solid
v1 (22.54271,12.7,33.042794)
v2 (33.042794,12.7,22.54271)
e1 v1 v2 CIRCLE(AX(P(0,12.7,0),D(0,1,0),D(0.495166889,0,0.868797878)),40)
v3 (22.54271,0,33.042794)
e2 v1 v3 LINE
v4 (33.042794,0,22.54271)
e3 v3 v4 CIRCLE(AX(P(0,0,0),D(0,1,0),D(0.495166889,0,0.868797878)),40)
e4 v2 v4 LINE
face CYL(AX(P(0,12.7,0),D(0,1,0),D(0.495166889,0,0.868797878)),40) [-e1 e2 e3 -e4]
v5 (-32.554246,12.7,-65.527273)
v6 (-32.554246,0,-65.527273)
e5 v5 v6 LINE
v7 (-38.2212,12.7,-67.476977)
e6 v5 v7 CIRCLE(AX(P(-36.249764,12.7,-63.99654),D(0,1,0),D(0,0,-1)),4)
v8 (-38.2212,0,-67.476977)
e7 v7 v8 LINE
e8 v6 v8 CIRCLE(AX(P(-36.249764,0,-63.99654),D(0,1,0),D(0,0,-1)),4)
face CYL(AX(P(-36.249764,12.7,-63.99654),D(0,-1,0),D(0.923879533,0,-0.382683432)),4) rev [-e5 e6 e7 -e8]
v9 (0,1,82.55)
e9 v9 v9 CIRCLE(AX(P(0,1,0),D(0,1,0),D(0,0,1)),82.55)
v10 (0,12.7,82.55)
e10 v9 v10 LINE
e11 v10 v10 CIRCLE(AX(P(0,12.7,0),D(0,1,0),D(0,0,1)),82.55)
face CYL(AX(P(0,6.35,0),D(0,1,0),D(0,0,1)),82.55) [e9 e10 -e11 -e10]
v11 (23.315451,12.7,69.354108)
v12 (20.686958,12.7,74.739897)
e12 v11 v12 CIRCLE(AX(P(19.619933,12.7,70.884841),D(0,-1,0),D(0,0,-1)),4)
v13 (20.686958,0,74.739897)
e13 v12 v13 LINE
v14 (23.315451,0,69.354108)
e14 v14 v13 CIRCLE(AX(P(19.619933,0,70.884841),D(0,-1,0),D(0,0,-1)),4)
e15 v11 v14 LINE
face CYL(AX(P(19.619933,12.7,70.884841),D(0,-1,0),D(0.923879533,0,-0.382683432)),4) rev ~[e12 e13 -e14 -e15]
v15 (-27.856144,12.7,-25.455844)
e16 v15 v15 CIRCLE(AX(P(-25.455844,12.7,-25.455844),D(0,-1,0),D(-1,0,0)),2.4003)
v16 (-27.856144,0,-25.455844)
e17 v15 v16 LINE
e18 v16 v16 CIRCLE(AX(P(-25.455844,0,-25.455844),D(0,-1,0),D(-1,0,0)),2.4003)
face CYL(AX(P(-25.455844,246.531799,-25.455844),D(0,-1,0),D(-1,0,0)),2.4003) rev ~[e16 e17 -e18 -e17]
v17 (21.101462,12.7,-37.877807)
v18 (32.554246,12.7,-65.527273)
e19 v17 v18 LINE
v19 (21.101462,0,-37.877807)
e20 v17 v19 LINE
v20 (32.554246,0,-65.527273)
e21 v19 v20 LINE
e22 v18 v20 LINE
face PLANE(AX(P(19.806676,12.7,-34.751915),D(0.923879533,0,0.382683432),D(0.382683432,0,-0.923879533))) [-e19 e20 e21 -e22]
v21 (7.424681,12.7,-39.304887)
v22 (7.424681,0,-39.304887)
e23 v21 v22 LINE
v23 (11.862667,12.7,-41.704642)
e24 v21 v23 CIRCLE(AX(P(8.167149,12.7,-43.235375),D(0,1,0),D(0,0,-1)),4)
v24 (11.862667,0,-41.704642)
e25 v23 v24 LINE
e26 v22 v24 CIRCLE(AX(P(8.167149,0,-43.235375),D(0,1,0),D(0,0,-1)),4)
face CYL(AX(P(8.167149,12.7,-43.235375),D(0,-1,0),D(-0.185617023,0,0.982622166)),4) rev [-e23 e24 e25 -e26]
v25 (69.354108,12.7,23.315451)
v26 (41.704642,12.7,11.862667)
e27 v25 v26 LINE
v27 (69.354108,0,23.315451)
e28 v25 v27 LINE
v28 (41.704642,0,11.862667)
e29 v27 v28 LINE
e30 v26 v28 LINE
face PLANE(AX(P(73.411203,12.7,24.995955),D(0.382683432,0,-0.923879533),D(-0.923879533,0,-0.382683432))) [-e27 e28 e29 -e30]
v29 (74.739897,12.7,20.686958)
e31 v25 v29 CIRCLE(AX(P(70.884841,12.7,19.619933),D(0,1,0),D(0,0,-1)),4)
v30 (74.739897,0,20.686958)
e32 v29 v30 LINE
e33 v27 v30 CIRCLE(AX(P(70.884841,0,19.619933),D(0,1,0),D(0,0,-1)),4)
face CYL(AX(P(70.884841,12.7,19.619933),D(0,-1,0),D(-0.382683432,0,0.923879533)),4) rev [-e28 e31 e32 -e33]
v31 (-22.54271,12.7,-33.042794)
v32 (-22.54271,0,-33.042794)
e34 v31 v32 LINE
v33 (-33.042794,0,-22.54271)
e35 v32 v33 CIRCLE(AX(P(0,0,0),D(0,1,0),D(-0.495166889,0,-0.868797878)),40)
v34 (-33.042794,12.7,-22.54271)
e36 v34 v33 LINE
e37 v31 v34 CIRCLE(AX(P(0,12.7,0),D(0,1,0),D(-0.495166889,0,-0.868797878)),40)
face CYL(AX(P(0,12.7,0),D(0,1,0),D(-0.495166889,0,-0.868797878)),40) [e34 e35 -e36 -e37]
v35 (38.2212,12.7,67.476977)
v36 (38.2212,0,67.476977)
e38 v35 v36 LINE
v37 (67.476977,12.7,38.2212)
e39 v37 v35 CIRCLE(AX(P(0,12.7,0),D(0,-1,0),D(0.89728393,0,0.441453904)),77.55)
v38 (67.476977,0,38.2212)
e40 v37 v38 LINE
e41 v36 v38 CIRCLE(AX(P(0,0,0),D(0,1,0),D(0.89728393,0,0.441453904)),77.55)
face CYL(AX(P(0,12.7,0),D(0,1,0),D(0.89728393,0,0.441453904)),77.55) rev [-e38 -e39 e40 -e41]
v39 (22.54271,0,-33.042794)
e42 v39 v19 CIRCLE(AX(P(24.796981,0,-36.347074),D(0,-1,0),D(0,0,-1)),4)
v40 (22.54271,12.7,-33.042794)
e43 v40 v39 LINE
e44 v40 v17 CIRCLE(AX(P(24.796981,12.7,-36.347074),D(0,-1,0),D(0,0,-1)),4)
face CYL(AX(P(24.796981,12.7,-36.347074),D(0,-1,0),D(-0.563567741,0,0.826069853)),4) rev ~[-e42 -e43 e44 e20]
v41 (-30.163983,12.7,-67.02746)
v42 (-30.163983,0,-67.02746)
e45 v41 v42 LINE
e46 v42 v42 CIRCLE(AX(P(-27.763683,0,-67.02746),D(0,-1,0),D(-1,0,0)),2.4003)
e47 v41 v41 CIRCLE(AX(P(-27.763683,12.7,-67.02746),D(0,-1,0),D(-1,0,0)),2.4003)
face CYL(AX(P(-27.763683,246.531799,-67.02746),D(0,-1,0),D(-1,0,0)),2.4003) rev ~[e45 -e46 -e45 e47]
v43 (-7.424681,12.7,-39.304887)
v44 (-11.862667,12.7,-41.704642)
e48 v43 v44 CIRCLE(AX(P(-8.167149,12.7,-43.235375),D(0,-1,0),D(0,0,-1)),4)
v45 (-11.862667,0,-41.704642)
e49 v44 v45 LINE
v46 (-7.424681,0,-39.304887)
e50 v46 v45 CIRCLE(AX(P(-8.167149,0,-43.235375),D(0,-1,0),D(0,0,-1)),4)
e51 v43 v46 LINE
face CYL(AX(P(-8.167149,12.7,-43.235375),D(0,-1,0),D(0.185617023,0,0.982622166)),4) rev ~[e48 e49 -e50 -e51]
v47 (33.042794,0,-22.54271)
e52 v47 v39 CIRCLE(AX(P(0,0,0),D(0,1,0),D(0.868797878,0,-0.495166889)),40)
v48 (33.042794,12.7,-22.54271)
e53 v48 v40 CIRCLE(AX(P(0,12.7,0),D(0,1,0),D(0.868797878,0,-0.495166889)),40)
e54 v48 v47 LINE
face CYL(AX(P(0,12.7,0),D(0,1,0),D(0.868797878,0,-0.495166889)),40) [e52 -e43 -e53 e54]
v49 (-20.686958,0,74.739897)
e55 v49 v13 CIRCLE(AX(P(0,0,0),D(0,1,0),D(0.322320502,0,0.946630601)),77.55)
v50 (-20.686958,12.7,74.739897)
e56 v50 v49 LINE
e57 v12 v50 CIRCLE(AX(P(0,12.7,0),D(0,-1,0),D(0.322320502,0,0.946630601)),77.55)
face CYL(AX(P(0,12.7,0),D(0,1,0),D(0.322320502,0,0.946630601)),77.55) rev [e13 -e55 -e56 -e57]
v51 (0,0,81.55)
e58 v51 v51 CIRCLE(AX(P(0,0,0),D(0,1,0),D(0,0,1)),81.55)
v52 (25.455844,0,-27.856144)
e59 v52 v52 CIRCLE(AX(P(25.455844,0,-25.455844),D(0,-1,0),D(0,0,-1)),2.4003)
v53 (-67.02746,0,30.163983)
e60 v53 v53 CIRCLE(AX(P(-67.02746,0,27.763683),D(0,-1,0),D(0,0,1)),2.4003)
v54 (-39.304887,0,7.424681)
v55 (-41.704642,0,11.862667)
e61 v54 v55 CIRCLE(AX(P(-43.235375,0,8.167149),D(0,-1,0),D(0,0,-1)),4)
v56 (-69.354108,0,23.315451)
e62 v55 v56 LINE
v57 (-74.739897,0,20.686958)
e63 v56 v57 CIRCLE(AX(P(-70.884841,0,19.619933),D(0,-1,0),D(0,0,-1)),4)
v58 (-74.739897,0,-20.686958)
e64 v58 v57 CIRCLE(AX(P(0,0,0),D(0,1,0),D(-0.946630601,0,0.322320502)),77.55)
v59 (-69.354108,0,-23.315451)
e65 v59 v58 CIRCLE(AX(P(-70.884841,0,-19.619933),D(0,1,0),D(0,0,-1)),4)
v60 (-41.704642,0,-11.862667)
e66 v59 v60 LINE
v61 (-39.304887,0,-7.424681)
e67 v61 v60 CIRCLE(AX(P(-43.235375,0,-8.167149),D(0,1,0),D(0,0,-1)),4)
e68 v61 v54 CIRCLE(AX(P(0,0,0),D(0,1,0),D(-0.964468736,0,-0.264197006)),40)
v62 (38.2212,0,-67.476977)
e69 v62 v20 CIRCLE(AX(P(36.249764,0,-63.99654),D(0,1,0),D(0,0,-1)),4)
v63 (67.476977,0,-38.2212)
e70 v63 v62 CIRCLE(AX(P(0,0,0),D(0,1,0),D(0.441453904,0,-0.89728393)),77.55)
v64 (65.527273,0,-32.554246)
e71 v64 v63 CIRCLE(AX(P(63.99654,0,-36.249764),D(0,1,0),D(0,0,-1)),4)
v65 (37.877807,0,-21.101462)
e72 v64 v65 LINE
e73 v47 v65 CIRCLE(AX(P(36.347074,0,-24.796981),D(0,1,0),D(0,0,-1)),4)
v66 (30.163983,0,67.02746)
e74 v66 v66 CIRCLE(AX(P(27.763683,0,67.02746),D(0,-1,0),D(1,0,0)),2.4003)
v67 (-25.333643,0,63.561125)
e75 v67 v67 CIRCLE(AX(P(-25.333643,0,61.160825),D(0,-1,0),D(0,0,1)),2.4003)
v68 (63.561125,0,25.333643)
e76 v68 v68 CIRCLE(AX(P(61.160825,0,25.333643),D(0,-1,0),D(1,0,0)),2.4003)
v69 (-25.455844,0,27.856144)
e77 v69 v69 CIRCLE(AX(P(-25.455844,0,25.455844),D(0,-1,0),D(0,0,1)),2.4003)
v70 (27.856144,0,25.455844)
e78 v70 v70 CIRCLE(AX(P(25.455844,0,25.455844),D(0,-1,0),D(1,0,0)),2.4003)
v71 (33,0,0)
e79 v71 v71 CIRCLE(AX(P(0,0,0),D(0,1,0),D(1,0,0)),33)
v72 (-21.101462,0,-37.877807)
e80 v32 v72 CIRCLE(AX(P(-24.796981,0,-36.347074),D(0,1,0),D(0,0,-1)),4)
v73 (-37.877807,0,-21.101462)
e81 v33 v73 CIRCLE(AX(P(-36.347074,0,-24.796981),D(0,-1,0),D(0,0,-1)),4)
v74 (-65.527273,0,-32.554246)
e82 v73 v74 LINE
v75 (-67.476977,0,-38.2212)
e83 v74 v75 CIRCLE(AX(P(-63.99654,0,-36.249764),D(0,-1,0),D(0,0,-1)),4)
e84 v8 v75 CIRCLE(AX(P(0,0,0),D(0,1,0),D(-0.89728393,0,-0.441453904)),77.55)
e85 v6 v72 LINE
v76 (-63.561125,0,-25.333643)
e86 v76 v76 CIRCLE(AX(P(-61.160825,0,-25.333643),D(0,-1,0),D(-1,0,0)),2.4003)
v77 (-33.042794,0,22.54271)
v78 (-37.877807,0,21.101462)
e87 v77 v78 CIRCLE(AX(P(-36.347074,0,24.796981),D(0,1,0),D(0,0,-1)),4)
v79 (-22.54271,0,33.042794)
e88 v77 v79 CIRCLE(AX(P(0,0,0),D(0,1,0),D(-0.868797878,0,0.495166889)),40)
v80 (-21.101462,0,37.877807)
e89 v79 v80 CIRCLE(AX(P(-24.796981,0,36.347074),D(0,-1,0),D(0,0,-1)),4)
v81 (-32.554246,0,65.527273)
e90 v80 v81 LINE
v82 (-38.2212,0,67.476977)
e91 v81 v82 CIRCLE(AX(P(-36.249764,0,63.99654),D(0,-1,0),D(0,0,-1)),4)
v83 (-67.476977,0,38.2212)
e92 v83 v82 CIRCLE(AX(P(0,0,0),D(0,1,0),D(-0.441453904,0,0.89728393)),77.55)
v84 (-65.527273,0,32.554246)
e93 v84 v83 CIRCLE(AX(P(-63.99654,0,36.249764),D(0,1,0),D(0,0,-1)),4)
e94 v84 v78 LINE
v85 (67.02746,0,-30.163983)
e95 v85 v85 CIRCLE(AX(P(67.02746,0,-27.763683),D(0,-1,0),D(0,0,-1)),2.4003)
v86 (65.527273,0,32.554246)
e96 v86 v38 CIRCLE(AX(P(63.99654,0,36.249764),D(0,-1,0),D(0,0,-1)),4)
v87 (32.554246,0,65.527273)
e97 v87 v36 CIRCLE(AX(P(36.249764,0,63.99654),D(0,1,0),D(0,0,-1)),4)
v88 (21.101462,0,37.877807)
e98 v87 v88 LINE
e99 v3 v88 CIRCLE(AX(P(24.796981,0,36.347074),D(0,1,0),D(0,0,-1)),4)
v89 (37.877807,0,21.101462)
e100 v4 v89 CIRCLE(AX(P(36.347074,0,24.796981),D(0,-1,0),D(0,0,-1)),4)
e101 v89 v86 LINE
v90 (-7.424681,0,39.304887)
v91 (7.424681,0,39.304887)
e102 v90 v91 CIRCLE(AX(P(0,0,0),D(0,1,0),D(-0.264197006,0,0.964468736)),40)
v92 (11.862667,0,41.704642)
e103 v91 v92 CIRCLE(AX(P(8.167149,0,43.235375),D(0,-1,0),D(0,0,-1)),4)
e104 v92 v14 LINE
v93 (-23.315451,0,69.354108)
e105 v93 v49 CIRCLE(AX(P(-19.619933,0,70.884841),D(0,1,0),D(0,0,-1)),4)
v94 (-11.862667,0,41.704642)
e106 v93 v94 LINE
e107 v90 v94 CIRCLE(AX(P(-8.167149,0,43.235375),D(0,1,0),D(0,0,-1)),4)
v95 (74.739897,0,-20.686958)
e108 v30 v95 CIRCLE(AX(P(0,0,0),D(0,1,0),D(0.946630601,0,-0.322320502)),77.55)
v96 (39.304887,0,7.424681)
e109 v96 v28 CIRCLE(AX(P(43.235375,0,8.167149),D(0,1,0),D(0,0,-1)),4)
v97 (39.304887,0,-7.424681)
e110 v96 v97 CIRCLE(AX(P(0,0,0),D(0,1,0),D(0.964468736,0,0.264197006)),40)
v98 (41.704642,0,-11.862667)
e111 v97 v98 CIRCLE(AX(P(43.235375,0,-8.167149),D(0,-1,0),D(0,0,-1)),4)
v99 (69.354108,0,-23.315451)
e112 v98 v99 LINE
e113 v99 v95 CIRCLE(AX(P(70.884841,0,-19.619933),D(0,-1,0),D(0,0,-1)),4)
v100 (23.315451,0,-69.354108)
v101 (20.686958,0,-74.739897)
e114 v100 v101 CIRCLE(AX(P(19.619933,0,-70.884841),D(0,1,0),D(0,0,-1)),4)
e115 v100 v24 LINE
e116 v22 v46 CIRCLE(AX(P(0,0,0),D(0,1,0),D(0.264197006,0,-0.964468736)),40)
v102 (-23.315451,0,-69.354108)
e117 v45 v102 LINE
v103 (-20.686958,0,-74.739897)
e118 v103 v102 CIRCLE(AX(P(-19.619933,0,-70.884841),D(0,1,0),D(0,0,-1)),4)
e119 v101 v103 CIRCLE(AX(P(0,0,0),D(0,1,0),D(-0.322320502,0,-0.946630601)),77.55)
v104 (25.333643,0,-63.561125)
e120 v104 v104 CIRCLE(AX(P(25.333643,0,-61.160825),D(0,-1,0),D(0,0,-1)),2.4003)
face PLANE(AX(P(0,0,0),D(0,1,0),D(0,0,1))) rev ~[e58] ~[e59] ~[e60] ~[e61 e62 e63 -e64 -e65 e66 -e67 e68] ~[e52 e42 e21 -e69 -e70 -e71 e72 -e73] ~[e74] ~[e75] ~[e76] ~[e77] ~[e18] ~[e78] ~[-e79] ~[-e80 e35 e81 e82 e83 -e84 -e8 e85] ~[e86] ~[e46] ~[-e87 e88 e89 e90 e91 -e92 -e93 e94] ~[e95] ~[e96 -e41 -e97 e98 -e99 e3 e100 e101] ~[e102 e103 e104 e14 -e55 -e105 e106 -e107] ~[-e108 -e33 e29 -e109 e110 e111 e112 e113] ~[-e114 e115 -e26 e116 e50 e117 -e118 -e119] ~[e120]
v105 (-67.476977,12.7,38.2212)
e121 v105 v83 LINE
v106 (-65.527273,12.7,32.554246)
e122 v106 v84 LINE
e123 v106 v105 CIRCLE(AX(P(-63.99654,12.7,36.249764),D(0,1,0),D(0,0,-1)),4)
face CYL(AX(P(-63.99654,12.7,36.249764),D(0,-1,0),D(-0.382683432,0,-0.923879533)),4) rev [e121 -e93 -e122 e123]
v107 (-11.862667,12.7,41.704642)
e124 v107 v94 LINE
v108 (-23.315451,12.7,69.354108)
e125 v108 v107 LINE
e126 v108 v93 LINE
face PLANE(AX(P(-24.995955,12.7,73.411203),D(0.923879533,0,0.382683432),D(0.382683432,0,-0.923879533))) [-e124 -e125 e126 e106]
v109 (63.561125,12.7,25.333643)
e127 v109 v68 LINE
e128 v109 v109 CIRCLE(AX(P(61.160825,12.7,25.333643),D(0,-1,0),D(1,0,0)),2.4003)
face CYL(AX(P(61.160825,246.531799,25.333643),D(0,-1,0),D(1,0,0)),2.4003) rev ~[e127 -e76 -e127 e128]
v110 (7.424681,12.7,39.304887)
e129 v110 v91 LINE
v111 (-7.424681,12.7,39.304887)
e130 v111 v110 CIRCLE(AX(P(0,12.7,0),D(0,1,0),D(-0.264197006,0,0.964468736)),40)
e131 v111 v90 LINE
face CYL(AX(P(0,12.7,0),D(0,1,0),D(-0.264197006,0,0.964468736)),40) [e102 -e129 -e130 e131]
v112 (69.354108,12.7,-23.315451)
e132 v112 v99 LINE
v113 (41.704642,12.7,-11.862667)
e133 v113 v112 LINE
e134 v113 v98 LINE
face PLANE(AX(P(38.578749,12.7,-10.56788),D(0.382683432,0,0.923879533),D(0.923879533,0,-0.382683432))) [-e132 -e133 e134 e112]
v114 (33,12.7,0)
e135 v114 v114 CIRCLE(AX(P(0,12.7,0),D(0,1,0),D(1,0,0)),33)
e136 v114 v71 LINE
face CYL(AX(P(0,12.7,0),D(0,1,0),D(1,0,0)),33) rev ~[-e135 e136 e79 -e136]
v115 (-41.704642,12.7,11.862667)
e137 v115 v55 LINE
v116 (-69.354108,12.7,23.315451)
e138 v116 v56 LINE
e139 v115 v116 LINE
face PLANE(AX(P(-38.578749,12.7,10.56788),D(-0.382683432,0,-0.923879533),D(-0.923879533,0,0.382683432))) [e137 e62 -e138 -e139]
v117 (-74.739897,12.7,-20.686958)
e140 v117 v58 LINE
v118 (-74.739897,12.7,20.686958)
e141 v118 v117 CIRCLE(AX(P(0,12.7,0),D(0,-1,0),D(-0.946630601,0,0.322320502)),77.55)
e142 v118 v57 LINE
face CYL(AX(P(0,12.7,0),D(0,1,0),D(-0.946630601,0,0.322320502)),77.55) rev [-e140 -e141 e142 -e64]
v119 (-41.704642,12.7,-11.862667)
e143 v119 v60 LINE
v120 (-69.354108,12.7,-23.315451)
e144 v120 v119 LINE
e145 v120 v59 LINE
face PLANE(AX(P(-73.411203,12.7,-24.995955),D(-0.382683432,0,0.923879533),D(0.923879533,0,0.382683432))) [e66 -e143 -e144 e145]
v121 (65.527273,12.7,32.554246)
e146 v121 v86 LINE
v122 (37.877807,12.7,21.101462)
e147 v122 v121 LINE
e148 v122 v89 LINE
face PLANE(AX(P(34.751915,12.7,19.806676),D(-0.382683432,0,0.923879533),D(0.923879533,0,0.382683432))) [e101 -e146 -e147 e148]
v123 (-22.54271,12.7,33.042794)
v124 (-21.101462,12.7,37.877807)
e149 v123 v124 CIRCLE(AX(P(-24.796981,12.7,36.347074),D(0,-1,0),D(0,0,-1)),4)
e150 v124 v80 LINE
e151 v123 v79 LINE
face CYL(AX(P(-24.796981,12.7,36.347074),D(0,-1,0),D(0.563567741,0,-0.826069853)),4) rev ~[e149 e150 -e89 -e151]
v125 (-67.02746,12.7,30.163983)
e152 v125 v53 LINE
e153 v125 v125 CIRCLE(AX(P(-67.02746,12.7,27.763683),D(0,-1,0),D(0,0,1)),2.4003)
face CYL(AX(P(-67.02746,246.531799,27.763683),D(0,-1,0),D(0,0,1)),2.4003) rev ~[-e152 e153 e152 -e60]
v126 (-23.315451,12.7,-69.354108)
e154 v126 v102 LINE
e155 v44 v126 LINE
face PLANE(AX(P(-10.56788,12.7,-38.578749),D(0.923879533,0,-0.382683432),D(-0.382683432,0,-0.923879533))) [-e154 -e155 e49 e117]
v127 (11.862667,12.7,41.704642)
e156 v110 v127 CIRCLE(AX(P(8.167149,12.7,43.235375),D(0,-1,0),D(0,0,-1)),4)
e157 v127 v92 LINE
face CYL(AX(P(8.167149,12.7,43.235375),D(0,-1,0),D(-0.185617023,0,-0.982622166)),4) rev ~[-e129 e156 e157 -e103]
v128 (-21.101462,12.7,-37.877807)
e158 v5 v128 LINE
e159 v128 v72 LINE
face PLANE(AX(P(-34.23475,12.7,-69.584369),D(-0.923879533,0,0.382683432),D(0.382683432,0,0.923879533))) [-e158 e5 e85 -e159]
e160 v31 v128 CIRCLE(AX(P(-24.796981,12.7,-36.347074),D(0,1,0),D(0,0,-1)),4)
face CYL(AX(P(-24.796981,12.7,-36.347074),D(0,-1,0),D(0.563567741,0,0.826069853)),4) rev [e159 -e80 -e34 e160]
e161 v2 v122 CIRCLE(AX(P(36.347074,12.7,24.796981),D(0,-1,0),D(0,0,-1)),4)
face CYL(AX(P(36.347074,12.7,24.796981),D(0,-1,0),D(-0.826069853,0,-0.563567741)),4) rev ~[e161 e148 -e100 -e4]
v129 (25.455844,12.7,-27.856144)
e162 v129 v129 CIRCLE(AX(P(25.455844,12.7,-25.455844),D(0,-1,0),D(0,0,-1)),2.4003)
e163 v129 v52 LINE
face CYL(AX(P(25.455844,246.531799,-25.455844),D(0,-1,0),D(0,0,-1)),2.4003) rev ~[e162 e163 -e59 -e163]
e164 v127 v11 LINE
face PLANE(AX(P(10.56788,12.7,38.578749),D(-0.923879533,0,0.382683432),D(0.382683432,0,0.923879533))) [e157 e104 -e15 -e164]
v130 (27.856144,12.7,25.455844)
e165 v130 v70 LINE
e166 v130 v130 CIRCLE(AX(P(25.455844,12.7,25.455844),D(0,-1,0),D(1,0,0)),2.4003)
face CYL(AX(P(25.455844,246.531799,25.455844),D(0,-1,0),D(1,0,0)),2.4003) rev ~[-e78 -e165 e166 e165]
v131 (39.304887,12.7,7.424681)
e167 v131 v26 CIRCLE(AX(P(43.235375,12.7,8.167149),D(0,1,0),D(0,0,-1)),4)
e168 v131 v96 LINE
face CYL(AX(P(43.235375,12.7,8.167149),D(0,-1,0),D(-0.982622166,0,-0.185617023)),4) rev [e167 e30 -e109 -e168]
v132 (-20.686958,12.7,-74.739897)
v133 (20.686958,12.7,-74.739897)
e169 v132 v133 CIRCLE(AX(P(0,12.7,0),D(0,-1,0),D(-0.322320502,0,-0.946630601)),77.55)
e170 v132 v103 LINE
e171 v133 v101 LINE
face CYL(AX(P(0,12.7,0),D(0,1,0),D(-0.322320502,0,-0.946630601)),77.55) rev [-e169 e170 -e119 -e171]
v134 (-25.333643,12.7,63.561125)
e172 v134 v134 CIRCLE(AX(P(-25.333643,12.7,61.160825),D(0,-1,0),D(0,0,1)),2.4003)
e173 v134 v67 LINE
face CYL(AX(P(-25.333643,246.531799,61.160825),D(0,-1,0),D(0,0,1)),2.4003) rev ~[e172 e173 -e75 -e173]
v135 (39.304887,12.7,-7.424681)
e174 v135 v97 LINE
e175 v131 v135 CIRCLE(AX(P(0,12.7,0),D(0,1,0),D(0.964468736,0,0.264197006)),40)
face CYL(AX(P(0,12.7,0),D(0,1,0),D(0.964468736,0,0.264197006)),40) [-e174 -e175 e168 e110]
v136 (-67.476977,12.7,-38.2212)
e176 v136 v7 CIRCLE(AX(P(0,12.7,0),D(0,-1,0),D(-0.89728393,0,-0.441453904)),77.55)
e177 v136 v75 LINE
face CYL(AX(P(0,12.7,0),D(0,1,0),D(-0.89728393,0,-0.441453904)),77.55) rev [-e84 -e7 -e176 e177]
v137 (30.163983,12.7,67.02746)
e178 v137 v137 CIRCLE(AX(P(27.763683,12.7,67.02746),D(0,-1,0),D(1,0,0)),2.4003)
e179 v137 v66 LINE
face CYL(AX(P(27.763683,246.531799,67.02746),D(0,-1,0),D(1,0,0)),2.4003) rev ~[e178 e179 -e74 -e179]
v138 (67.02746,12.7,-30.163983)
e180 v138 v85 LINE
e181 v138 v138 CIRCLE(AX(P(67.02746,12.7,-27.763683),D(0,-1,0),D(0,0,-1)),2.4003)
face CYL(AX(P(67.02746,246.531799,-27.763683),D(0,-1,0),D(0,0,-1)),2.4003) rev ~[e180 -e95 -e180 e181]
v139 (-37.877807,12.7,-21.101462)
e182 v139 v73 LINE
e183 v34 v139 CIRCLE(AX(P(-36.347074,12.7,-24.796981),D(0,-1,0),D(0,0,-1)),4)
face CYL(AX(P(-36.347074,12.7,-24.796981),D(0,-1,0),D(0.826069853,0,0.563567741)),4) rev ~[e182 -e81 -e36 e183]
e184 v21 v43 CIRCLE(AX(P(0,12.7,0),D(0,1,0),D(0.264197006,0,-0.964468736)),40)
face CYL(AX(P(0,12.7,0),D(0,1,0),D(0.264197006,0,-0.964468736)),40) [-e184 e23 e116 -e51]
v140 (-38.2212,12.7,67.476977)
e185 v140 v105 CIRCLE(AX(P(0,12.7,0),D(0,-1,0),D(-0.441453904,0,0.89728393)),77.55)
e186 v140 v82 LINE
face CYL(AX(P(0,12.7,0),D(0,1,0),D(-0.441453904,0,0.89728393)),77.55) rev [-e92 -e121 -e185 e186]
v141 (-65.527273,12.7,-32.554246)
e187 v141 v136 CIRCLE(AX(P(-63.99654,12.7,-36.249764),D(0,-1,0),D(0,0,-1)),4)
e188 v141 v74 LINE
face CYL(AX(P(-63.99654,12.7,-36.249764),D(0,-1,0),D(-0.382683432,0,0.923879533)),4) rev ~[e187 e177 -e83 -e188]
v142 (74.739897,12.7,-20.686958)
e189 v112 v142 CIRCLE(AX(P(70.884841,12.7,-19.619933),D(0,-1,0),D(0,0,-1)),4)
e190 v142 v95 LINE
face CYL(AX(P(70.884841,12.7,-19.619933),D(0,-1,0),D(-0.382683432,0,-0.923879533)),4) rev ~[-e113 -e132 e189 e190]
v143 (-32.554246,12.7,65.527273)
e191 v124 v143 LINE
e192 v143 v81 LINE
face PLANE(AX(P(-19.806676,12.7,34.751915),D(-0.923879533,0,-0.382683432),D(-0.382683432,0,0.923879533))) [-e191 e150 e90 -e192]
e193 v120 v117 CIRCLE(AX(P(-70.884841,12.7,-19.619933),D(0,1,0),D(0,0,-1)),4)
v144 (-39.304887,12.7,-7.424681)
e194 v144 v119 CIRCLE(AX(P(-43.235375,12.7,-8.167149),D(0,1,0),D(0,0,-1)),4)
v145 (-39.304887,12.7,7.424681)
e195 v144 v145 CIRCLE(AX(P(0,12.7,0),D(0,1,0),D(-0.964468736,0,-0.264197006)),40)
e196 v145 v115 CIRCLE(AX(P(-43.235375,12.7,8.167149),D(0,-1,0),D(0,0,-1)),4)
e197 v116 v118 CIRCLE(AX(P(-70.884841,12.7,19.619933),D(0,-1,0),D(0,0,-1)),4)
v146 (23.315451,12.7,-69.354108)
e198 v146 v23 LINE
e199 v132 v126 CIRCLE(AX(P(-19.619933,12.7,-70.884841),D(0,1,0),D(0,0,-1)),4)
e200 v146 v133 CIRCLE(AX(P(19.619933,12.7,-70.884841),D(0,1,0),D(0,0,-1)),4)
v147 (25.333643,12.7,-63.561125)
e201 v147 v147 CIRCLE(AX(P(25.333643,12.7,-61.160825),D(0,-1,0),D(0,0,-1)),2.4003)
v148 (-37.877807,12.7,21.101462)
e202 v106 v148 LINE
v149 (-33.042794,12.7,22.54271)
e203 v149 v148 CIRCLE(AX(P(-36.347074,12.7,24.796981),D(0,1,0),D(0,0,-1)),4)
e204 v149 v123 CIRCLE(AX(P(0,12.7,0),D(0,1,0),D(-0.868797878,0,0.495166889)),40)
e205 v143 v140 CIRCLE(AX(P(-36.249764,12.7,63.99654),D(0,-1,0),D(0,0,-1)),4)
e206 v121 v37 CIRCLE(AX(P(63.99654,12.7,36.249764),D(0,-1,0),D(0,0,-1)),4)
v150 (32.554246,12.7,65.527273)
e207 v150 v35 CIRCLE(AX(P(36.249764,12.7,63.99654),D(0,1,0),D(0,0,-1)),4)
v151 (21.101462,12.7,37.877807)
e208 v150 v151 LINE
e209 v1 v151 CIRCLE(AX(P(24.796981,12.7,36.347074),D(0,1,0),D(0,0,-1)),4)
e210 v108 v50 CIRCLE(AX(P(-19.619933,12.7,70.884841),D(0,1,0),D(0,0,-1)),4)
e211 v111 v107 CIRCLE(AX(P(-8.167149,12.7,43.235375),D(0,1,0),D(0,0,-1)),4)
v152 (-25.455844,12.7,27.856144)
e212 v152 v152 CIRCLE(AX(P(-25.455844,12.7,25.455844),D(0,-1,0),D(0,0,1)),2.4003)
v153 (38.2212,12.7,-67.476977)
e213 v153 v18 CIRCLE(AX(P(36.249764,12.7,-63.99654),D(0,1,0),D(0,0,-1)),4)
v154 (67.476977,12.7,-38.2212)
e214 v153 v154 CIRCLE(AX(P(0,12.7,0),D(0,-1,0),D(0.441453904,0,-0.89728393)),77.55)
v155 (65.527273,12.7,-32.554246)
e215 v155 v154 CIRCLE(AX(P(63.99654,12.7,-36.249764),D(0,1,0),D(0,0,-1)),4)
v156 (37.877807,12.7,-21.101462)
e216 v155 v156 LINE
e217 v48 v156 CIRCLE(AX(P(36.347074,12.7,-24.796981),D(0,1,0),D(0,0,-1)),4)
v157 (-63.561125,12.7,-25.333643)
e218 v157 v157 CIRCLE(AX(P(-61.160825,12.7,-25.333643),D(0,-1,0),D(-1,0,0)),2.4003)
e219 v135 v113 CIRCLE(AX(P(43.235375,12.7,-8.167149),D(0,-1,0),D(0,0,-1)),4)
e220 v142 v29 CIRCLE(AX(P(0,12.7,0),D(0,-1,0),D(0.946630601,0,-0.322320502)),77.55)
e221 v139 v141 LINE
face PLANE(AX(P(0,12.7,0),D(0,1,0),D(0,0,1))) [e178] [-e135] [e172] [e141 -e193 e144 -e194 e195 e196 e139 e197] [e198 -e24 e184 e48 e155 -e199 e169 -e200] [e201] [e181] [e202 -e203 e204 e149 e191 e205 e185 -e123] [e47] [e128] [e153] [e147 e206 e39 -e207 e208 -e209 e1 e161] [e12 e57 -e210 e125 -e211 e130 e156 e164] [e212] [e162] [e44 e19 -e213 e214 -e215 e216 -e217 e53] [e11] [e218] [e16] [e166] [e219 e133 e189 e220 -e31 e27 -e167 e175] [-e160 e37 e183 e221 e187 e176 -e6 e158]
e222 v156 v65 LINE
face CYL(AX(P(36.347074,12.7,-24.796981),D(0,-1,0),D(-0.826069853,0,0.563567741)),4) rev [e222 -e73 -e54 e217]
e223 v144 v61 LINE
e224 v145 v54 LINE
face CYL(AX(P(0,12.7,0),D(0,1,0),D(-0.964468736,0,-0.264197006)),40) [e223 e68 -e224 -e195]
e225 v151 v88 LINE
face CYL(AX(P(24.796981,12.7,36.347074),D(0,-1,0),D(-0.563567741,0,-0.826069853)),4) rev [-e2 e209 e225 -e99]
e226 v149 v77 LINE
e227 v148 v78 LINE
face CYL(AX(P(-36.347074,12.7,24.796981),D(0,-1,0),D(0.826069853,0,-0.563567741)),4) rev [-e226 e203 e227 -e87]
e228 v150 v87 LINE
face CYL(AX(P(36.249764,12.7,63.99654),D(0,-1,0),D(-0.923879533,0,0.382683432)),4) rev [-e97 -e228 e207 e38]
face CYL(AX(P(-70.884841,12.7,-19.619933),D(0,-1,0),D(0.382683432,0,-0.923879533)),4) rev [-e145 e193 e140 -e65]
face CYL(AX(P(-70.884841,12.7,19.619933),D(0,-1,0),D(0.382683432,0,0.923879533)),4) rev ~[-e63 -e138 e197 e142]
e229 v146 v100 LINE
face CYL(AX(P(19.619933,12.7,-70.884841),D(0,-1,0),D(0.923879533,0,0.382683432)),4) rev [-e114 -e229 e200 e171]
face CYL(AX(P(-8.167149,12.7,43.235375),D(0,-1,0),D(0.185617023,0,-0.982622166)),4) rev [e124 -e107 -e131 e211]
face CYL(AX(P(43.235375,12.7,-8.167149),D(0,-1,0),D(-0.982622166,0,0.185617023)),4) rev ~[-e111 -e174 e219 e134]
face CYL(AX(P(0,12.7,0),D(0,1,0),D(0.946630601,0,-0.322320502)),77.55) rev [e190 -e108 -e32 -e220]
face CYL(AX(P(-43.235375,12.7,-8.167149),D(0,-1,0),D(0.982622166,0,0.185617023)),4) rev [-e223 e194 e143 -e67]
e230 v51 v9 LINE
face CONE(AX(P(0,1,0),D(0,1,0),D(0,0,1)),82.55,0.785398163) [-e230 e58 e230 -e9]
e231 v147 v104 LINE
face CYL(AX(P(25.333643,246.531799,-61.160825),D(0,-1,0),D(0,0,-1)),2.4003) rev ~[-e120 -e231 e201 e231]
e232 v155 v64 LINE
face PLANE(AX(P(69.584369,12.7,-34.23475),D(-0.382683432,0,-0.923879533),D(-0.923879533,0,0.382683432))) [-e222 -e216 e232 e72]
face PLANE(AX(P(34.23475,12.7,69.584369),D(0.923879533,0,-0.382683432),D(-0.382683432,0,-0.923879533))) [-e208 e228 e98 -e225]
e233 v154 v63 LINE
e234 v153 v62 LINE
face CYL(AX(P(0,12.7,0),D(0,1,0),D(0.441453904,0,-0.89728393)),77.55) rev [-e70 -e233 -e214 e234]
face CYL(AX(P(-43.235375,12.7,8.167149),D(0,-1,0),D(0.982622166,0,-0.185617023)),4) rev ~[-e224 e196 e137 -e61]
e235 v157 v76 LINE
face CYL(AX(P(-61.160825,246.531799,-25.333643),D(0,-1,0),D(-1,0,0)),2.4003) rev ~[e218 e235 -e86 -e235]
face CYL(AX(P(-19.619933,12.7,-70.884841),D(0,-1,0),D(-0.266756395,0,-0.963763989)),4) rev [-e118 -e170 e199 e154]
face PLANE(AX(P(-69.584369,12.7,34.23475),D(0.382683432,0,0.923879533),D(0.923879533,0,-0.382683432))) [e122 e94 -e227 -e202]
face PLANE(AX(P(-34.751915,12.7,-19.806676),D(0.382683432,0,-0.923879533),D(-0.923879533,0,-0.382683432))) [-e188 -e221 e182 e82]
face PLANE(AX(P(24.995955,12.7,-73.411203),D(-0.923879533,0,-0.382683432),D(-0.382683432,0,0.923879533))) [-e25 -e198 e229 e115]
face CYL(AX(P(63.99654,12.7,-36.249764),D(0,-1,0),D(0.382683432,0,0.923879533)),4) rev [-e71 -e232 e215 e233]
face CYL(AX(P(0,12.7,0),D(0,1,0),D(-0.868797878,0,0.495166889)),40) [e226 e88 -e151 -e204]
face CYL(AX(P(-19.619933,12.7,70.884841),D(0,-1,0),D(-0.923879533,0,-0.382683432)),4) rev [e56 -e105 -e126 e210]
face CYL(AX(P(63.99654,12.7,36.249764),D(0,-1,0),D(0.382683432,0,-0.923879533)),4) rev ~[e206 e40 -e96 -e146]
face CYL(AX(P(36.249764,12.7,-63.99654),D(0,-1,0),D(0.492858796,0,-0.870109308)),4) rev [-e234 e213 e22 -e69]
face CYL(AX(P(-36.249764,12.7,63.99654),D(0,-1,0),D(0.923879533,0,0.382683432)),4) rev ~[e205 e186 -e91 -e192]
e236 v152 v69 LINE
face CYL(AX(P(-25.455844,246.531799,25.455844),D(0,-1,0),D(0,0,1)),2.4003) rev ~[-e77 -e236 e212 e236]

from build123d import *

# Parameters (mm, degrees)
SKETCH2_W                   = 82.55
SKETCH2_H                   = 12.7
F_12_0_189_DIAMETER_HOLE1_D = 4.8006
CIRPATTERN3_COUNT           = 4
CUT_EXTRUDE1_DEPTH          = 13.7
FILLET1_R                   = 4
CIRPATTERN4_COUNT           = 8
FILLET1_OF_CIRPATTERN4_R    = 4
CHAMFER2_SIZE               = 1
SKETCH9_R                   = 33
CUT_EXTRUDE2_DEPTH          = 13.7


with BuildPart() as part:
    # Sketch2 → Revolve1 (revolve)
    with BuildSketch(Plane(origin=(0, 0, 0), x_dir=(0, 0, -1), z_dir=(1, 0, 0))):
        with Locations((-41.275, 6.35)):
            Rectangle(SKETCH2_W, SKETCH2_H)
    revolve(axis=Axis((0, -0.635, 0), (0, 1, 0)))

    # #12 (0.189) Diameter Hole1 (through all)
    with Locations(Plane(origin=(0, 12.7, 0), x_dir=(1, 0, 0), z_dir=(0, 1, 0))):
        with Locations((-27.763683018, 67.027460084), (-61.160825052, 25.333643223), (-25.455844123, 25.455844123)):
            f_12_0_189_diameter_hole1 = Hole(F_12_0_189_DIAMETER_HOLE1_D / 2)

    # CirPattern3: #12 (0.189) Diameter Hole1 ×4 about axis
    cirpattern3_axis = Axis((0, 0, 0), (0, 1, 0))
    for i in range(1, CIRPATTERN3_COUNT):
        add(f_12_0_189_diameter_hole1.rotate(cirpattern3_axis, i * 360 / CIRPATTERN3_COUNT), mode=Mode.SUBTRACT)

    # Sketch8 → Cut-Extrude1 (cut, through all)
    with BuildSketch(Plane(origin=(0, 12.7, 0), x_dir=(1, 0, 0), z_dir=(0, 1, 0))):
        with BuildLine():
            Line((-10.567880231, 38.578749428), (-24.995954941, 73.411203073))
            ThreePointArc((-24.995954941, 73.411203073), (0, 77.55), (24.995954941, 73.411203073))
            Line((24.995954941, 73.411203073), (10.567880231, 38.578749428))
            ThreePointArc((10.567880231, 38.578749428), (0, 40), (-10.567880231, 38.578749428))
        make_face()
    cut_extrude1 = extrude(amount=-CUT_EXTRUDE1_DEPTH, mode=Mode.SUBTRACT)

    # Fillet1
    fillet1_edges = [part.edges().sort_by_distance(p)[0] for p in [
        (10.567880231, 6.35, -38.578749428),
        (-10.567880231, 6.35, -38.578749428),
        (-24.995954941, 6.35, -73.411203073),
        (24.995954941, 6.35, -73.411203073),
    ]]
    fillet(fillet1_edges, radius=FILLET1_R)

    # CirPattern4: Cut-Extrude1 ×8 about axis
    cirpattern4_axis = Axis((0, 0, 0), (0, 1, 0))
    for i in range(1, CIRPATTERN4_COUNT):
        add(cut_extrude1.rotate(cirpattern4_axis, i * 360 / CIRPATTERN4_COUNT), mode=Mode.SUBTRACT)

    # Fillet1 of CirPattern4
    fillet1_of_cirpattern4_edges = [part.edges().sort_by_distance(p)[0] for p in [
        (-19.806675556, 6.35, -34.751915104),
        (-34.751915104, 6.35, -19.806675556),
        (-69.584368749, 6.35, -34.234750266),
        (-34.234750266, 6.35, -69.584368749),
        (-38.578749428, 6.35, -10.567880231),
        (-38.578749428, 6.35, 10.567880231),
        (-73.411203073, 6.35, 24.995954941),
        (-73.411203073, 6.35, -24.995954941),
        (-34.751915104, 6.35, 19.806675556),
        (-19.806675556, 6.35, 34.751915104),
        (-34.234750266, 6.35, 69.584368749),
        (-69.584368749, 6.35, 34.234750266),
        (-10.567880231, 6.35, 38.578749428),
        (10.567880231, 6.35, 38.578749428),
        (24.995954941, 6.35, 73.411203073),
        (-24.995954941, 6.35, 73.411203073),
        (19.806675556, 6.35, 34.751915104),
        (34.751915104, 6.35, 19.806675556),
        (69.584368749, 6.35, 34.234750266),
        (34.234750266, 6.35, 69.584368749),
        (38.578749428, 6.35, 10.567880231),
        (38.578749428, 6.35, -10.567880231),
        (73.411203073, 6.35, -24.995954941),
        (73.411203073, 6.35, 24.995954941),
        (34.751915104, 6.35, -19.806675556),
        (19.806675556, 6.35, -34.751915104),
        (34.234750266, 6.35, -69.584368749),
        (69.584368749, 6.35, -34.234750266),
    ]]
    fillet(fillet1_of_cirpattern4_edges, radius=FILLET1_OF_CIRPATTERN4_R)

    # Chamfer2
    chamfer2_edges = [part.edges().sort_by_distance(p)[0] for p in [
        (0, 0, -82.55),
    ]]
    chamfer(chamfer2_edges, length=CHAMFER2_SIZE)

    # Sketch9 → Cut-Extrude2 (cut, through all)
    with BuildSketch(Plane(origin=(0, 12.7, 0), x_dir=(1, 0, 0), z_dir=(0, 1, 0))):
        Circle(SKETCH9_R)
    extrude(amount=-CUT_EXTRUDE2_DEPTH, mode=Mode.SUBTRACT)


solid = part.part
